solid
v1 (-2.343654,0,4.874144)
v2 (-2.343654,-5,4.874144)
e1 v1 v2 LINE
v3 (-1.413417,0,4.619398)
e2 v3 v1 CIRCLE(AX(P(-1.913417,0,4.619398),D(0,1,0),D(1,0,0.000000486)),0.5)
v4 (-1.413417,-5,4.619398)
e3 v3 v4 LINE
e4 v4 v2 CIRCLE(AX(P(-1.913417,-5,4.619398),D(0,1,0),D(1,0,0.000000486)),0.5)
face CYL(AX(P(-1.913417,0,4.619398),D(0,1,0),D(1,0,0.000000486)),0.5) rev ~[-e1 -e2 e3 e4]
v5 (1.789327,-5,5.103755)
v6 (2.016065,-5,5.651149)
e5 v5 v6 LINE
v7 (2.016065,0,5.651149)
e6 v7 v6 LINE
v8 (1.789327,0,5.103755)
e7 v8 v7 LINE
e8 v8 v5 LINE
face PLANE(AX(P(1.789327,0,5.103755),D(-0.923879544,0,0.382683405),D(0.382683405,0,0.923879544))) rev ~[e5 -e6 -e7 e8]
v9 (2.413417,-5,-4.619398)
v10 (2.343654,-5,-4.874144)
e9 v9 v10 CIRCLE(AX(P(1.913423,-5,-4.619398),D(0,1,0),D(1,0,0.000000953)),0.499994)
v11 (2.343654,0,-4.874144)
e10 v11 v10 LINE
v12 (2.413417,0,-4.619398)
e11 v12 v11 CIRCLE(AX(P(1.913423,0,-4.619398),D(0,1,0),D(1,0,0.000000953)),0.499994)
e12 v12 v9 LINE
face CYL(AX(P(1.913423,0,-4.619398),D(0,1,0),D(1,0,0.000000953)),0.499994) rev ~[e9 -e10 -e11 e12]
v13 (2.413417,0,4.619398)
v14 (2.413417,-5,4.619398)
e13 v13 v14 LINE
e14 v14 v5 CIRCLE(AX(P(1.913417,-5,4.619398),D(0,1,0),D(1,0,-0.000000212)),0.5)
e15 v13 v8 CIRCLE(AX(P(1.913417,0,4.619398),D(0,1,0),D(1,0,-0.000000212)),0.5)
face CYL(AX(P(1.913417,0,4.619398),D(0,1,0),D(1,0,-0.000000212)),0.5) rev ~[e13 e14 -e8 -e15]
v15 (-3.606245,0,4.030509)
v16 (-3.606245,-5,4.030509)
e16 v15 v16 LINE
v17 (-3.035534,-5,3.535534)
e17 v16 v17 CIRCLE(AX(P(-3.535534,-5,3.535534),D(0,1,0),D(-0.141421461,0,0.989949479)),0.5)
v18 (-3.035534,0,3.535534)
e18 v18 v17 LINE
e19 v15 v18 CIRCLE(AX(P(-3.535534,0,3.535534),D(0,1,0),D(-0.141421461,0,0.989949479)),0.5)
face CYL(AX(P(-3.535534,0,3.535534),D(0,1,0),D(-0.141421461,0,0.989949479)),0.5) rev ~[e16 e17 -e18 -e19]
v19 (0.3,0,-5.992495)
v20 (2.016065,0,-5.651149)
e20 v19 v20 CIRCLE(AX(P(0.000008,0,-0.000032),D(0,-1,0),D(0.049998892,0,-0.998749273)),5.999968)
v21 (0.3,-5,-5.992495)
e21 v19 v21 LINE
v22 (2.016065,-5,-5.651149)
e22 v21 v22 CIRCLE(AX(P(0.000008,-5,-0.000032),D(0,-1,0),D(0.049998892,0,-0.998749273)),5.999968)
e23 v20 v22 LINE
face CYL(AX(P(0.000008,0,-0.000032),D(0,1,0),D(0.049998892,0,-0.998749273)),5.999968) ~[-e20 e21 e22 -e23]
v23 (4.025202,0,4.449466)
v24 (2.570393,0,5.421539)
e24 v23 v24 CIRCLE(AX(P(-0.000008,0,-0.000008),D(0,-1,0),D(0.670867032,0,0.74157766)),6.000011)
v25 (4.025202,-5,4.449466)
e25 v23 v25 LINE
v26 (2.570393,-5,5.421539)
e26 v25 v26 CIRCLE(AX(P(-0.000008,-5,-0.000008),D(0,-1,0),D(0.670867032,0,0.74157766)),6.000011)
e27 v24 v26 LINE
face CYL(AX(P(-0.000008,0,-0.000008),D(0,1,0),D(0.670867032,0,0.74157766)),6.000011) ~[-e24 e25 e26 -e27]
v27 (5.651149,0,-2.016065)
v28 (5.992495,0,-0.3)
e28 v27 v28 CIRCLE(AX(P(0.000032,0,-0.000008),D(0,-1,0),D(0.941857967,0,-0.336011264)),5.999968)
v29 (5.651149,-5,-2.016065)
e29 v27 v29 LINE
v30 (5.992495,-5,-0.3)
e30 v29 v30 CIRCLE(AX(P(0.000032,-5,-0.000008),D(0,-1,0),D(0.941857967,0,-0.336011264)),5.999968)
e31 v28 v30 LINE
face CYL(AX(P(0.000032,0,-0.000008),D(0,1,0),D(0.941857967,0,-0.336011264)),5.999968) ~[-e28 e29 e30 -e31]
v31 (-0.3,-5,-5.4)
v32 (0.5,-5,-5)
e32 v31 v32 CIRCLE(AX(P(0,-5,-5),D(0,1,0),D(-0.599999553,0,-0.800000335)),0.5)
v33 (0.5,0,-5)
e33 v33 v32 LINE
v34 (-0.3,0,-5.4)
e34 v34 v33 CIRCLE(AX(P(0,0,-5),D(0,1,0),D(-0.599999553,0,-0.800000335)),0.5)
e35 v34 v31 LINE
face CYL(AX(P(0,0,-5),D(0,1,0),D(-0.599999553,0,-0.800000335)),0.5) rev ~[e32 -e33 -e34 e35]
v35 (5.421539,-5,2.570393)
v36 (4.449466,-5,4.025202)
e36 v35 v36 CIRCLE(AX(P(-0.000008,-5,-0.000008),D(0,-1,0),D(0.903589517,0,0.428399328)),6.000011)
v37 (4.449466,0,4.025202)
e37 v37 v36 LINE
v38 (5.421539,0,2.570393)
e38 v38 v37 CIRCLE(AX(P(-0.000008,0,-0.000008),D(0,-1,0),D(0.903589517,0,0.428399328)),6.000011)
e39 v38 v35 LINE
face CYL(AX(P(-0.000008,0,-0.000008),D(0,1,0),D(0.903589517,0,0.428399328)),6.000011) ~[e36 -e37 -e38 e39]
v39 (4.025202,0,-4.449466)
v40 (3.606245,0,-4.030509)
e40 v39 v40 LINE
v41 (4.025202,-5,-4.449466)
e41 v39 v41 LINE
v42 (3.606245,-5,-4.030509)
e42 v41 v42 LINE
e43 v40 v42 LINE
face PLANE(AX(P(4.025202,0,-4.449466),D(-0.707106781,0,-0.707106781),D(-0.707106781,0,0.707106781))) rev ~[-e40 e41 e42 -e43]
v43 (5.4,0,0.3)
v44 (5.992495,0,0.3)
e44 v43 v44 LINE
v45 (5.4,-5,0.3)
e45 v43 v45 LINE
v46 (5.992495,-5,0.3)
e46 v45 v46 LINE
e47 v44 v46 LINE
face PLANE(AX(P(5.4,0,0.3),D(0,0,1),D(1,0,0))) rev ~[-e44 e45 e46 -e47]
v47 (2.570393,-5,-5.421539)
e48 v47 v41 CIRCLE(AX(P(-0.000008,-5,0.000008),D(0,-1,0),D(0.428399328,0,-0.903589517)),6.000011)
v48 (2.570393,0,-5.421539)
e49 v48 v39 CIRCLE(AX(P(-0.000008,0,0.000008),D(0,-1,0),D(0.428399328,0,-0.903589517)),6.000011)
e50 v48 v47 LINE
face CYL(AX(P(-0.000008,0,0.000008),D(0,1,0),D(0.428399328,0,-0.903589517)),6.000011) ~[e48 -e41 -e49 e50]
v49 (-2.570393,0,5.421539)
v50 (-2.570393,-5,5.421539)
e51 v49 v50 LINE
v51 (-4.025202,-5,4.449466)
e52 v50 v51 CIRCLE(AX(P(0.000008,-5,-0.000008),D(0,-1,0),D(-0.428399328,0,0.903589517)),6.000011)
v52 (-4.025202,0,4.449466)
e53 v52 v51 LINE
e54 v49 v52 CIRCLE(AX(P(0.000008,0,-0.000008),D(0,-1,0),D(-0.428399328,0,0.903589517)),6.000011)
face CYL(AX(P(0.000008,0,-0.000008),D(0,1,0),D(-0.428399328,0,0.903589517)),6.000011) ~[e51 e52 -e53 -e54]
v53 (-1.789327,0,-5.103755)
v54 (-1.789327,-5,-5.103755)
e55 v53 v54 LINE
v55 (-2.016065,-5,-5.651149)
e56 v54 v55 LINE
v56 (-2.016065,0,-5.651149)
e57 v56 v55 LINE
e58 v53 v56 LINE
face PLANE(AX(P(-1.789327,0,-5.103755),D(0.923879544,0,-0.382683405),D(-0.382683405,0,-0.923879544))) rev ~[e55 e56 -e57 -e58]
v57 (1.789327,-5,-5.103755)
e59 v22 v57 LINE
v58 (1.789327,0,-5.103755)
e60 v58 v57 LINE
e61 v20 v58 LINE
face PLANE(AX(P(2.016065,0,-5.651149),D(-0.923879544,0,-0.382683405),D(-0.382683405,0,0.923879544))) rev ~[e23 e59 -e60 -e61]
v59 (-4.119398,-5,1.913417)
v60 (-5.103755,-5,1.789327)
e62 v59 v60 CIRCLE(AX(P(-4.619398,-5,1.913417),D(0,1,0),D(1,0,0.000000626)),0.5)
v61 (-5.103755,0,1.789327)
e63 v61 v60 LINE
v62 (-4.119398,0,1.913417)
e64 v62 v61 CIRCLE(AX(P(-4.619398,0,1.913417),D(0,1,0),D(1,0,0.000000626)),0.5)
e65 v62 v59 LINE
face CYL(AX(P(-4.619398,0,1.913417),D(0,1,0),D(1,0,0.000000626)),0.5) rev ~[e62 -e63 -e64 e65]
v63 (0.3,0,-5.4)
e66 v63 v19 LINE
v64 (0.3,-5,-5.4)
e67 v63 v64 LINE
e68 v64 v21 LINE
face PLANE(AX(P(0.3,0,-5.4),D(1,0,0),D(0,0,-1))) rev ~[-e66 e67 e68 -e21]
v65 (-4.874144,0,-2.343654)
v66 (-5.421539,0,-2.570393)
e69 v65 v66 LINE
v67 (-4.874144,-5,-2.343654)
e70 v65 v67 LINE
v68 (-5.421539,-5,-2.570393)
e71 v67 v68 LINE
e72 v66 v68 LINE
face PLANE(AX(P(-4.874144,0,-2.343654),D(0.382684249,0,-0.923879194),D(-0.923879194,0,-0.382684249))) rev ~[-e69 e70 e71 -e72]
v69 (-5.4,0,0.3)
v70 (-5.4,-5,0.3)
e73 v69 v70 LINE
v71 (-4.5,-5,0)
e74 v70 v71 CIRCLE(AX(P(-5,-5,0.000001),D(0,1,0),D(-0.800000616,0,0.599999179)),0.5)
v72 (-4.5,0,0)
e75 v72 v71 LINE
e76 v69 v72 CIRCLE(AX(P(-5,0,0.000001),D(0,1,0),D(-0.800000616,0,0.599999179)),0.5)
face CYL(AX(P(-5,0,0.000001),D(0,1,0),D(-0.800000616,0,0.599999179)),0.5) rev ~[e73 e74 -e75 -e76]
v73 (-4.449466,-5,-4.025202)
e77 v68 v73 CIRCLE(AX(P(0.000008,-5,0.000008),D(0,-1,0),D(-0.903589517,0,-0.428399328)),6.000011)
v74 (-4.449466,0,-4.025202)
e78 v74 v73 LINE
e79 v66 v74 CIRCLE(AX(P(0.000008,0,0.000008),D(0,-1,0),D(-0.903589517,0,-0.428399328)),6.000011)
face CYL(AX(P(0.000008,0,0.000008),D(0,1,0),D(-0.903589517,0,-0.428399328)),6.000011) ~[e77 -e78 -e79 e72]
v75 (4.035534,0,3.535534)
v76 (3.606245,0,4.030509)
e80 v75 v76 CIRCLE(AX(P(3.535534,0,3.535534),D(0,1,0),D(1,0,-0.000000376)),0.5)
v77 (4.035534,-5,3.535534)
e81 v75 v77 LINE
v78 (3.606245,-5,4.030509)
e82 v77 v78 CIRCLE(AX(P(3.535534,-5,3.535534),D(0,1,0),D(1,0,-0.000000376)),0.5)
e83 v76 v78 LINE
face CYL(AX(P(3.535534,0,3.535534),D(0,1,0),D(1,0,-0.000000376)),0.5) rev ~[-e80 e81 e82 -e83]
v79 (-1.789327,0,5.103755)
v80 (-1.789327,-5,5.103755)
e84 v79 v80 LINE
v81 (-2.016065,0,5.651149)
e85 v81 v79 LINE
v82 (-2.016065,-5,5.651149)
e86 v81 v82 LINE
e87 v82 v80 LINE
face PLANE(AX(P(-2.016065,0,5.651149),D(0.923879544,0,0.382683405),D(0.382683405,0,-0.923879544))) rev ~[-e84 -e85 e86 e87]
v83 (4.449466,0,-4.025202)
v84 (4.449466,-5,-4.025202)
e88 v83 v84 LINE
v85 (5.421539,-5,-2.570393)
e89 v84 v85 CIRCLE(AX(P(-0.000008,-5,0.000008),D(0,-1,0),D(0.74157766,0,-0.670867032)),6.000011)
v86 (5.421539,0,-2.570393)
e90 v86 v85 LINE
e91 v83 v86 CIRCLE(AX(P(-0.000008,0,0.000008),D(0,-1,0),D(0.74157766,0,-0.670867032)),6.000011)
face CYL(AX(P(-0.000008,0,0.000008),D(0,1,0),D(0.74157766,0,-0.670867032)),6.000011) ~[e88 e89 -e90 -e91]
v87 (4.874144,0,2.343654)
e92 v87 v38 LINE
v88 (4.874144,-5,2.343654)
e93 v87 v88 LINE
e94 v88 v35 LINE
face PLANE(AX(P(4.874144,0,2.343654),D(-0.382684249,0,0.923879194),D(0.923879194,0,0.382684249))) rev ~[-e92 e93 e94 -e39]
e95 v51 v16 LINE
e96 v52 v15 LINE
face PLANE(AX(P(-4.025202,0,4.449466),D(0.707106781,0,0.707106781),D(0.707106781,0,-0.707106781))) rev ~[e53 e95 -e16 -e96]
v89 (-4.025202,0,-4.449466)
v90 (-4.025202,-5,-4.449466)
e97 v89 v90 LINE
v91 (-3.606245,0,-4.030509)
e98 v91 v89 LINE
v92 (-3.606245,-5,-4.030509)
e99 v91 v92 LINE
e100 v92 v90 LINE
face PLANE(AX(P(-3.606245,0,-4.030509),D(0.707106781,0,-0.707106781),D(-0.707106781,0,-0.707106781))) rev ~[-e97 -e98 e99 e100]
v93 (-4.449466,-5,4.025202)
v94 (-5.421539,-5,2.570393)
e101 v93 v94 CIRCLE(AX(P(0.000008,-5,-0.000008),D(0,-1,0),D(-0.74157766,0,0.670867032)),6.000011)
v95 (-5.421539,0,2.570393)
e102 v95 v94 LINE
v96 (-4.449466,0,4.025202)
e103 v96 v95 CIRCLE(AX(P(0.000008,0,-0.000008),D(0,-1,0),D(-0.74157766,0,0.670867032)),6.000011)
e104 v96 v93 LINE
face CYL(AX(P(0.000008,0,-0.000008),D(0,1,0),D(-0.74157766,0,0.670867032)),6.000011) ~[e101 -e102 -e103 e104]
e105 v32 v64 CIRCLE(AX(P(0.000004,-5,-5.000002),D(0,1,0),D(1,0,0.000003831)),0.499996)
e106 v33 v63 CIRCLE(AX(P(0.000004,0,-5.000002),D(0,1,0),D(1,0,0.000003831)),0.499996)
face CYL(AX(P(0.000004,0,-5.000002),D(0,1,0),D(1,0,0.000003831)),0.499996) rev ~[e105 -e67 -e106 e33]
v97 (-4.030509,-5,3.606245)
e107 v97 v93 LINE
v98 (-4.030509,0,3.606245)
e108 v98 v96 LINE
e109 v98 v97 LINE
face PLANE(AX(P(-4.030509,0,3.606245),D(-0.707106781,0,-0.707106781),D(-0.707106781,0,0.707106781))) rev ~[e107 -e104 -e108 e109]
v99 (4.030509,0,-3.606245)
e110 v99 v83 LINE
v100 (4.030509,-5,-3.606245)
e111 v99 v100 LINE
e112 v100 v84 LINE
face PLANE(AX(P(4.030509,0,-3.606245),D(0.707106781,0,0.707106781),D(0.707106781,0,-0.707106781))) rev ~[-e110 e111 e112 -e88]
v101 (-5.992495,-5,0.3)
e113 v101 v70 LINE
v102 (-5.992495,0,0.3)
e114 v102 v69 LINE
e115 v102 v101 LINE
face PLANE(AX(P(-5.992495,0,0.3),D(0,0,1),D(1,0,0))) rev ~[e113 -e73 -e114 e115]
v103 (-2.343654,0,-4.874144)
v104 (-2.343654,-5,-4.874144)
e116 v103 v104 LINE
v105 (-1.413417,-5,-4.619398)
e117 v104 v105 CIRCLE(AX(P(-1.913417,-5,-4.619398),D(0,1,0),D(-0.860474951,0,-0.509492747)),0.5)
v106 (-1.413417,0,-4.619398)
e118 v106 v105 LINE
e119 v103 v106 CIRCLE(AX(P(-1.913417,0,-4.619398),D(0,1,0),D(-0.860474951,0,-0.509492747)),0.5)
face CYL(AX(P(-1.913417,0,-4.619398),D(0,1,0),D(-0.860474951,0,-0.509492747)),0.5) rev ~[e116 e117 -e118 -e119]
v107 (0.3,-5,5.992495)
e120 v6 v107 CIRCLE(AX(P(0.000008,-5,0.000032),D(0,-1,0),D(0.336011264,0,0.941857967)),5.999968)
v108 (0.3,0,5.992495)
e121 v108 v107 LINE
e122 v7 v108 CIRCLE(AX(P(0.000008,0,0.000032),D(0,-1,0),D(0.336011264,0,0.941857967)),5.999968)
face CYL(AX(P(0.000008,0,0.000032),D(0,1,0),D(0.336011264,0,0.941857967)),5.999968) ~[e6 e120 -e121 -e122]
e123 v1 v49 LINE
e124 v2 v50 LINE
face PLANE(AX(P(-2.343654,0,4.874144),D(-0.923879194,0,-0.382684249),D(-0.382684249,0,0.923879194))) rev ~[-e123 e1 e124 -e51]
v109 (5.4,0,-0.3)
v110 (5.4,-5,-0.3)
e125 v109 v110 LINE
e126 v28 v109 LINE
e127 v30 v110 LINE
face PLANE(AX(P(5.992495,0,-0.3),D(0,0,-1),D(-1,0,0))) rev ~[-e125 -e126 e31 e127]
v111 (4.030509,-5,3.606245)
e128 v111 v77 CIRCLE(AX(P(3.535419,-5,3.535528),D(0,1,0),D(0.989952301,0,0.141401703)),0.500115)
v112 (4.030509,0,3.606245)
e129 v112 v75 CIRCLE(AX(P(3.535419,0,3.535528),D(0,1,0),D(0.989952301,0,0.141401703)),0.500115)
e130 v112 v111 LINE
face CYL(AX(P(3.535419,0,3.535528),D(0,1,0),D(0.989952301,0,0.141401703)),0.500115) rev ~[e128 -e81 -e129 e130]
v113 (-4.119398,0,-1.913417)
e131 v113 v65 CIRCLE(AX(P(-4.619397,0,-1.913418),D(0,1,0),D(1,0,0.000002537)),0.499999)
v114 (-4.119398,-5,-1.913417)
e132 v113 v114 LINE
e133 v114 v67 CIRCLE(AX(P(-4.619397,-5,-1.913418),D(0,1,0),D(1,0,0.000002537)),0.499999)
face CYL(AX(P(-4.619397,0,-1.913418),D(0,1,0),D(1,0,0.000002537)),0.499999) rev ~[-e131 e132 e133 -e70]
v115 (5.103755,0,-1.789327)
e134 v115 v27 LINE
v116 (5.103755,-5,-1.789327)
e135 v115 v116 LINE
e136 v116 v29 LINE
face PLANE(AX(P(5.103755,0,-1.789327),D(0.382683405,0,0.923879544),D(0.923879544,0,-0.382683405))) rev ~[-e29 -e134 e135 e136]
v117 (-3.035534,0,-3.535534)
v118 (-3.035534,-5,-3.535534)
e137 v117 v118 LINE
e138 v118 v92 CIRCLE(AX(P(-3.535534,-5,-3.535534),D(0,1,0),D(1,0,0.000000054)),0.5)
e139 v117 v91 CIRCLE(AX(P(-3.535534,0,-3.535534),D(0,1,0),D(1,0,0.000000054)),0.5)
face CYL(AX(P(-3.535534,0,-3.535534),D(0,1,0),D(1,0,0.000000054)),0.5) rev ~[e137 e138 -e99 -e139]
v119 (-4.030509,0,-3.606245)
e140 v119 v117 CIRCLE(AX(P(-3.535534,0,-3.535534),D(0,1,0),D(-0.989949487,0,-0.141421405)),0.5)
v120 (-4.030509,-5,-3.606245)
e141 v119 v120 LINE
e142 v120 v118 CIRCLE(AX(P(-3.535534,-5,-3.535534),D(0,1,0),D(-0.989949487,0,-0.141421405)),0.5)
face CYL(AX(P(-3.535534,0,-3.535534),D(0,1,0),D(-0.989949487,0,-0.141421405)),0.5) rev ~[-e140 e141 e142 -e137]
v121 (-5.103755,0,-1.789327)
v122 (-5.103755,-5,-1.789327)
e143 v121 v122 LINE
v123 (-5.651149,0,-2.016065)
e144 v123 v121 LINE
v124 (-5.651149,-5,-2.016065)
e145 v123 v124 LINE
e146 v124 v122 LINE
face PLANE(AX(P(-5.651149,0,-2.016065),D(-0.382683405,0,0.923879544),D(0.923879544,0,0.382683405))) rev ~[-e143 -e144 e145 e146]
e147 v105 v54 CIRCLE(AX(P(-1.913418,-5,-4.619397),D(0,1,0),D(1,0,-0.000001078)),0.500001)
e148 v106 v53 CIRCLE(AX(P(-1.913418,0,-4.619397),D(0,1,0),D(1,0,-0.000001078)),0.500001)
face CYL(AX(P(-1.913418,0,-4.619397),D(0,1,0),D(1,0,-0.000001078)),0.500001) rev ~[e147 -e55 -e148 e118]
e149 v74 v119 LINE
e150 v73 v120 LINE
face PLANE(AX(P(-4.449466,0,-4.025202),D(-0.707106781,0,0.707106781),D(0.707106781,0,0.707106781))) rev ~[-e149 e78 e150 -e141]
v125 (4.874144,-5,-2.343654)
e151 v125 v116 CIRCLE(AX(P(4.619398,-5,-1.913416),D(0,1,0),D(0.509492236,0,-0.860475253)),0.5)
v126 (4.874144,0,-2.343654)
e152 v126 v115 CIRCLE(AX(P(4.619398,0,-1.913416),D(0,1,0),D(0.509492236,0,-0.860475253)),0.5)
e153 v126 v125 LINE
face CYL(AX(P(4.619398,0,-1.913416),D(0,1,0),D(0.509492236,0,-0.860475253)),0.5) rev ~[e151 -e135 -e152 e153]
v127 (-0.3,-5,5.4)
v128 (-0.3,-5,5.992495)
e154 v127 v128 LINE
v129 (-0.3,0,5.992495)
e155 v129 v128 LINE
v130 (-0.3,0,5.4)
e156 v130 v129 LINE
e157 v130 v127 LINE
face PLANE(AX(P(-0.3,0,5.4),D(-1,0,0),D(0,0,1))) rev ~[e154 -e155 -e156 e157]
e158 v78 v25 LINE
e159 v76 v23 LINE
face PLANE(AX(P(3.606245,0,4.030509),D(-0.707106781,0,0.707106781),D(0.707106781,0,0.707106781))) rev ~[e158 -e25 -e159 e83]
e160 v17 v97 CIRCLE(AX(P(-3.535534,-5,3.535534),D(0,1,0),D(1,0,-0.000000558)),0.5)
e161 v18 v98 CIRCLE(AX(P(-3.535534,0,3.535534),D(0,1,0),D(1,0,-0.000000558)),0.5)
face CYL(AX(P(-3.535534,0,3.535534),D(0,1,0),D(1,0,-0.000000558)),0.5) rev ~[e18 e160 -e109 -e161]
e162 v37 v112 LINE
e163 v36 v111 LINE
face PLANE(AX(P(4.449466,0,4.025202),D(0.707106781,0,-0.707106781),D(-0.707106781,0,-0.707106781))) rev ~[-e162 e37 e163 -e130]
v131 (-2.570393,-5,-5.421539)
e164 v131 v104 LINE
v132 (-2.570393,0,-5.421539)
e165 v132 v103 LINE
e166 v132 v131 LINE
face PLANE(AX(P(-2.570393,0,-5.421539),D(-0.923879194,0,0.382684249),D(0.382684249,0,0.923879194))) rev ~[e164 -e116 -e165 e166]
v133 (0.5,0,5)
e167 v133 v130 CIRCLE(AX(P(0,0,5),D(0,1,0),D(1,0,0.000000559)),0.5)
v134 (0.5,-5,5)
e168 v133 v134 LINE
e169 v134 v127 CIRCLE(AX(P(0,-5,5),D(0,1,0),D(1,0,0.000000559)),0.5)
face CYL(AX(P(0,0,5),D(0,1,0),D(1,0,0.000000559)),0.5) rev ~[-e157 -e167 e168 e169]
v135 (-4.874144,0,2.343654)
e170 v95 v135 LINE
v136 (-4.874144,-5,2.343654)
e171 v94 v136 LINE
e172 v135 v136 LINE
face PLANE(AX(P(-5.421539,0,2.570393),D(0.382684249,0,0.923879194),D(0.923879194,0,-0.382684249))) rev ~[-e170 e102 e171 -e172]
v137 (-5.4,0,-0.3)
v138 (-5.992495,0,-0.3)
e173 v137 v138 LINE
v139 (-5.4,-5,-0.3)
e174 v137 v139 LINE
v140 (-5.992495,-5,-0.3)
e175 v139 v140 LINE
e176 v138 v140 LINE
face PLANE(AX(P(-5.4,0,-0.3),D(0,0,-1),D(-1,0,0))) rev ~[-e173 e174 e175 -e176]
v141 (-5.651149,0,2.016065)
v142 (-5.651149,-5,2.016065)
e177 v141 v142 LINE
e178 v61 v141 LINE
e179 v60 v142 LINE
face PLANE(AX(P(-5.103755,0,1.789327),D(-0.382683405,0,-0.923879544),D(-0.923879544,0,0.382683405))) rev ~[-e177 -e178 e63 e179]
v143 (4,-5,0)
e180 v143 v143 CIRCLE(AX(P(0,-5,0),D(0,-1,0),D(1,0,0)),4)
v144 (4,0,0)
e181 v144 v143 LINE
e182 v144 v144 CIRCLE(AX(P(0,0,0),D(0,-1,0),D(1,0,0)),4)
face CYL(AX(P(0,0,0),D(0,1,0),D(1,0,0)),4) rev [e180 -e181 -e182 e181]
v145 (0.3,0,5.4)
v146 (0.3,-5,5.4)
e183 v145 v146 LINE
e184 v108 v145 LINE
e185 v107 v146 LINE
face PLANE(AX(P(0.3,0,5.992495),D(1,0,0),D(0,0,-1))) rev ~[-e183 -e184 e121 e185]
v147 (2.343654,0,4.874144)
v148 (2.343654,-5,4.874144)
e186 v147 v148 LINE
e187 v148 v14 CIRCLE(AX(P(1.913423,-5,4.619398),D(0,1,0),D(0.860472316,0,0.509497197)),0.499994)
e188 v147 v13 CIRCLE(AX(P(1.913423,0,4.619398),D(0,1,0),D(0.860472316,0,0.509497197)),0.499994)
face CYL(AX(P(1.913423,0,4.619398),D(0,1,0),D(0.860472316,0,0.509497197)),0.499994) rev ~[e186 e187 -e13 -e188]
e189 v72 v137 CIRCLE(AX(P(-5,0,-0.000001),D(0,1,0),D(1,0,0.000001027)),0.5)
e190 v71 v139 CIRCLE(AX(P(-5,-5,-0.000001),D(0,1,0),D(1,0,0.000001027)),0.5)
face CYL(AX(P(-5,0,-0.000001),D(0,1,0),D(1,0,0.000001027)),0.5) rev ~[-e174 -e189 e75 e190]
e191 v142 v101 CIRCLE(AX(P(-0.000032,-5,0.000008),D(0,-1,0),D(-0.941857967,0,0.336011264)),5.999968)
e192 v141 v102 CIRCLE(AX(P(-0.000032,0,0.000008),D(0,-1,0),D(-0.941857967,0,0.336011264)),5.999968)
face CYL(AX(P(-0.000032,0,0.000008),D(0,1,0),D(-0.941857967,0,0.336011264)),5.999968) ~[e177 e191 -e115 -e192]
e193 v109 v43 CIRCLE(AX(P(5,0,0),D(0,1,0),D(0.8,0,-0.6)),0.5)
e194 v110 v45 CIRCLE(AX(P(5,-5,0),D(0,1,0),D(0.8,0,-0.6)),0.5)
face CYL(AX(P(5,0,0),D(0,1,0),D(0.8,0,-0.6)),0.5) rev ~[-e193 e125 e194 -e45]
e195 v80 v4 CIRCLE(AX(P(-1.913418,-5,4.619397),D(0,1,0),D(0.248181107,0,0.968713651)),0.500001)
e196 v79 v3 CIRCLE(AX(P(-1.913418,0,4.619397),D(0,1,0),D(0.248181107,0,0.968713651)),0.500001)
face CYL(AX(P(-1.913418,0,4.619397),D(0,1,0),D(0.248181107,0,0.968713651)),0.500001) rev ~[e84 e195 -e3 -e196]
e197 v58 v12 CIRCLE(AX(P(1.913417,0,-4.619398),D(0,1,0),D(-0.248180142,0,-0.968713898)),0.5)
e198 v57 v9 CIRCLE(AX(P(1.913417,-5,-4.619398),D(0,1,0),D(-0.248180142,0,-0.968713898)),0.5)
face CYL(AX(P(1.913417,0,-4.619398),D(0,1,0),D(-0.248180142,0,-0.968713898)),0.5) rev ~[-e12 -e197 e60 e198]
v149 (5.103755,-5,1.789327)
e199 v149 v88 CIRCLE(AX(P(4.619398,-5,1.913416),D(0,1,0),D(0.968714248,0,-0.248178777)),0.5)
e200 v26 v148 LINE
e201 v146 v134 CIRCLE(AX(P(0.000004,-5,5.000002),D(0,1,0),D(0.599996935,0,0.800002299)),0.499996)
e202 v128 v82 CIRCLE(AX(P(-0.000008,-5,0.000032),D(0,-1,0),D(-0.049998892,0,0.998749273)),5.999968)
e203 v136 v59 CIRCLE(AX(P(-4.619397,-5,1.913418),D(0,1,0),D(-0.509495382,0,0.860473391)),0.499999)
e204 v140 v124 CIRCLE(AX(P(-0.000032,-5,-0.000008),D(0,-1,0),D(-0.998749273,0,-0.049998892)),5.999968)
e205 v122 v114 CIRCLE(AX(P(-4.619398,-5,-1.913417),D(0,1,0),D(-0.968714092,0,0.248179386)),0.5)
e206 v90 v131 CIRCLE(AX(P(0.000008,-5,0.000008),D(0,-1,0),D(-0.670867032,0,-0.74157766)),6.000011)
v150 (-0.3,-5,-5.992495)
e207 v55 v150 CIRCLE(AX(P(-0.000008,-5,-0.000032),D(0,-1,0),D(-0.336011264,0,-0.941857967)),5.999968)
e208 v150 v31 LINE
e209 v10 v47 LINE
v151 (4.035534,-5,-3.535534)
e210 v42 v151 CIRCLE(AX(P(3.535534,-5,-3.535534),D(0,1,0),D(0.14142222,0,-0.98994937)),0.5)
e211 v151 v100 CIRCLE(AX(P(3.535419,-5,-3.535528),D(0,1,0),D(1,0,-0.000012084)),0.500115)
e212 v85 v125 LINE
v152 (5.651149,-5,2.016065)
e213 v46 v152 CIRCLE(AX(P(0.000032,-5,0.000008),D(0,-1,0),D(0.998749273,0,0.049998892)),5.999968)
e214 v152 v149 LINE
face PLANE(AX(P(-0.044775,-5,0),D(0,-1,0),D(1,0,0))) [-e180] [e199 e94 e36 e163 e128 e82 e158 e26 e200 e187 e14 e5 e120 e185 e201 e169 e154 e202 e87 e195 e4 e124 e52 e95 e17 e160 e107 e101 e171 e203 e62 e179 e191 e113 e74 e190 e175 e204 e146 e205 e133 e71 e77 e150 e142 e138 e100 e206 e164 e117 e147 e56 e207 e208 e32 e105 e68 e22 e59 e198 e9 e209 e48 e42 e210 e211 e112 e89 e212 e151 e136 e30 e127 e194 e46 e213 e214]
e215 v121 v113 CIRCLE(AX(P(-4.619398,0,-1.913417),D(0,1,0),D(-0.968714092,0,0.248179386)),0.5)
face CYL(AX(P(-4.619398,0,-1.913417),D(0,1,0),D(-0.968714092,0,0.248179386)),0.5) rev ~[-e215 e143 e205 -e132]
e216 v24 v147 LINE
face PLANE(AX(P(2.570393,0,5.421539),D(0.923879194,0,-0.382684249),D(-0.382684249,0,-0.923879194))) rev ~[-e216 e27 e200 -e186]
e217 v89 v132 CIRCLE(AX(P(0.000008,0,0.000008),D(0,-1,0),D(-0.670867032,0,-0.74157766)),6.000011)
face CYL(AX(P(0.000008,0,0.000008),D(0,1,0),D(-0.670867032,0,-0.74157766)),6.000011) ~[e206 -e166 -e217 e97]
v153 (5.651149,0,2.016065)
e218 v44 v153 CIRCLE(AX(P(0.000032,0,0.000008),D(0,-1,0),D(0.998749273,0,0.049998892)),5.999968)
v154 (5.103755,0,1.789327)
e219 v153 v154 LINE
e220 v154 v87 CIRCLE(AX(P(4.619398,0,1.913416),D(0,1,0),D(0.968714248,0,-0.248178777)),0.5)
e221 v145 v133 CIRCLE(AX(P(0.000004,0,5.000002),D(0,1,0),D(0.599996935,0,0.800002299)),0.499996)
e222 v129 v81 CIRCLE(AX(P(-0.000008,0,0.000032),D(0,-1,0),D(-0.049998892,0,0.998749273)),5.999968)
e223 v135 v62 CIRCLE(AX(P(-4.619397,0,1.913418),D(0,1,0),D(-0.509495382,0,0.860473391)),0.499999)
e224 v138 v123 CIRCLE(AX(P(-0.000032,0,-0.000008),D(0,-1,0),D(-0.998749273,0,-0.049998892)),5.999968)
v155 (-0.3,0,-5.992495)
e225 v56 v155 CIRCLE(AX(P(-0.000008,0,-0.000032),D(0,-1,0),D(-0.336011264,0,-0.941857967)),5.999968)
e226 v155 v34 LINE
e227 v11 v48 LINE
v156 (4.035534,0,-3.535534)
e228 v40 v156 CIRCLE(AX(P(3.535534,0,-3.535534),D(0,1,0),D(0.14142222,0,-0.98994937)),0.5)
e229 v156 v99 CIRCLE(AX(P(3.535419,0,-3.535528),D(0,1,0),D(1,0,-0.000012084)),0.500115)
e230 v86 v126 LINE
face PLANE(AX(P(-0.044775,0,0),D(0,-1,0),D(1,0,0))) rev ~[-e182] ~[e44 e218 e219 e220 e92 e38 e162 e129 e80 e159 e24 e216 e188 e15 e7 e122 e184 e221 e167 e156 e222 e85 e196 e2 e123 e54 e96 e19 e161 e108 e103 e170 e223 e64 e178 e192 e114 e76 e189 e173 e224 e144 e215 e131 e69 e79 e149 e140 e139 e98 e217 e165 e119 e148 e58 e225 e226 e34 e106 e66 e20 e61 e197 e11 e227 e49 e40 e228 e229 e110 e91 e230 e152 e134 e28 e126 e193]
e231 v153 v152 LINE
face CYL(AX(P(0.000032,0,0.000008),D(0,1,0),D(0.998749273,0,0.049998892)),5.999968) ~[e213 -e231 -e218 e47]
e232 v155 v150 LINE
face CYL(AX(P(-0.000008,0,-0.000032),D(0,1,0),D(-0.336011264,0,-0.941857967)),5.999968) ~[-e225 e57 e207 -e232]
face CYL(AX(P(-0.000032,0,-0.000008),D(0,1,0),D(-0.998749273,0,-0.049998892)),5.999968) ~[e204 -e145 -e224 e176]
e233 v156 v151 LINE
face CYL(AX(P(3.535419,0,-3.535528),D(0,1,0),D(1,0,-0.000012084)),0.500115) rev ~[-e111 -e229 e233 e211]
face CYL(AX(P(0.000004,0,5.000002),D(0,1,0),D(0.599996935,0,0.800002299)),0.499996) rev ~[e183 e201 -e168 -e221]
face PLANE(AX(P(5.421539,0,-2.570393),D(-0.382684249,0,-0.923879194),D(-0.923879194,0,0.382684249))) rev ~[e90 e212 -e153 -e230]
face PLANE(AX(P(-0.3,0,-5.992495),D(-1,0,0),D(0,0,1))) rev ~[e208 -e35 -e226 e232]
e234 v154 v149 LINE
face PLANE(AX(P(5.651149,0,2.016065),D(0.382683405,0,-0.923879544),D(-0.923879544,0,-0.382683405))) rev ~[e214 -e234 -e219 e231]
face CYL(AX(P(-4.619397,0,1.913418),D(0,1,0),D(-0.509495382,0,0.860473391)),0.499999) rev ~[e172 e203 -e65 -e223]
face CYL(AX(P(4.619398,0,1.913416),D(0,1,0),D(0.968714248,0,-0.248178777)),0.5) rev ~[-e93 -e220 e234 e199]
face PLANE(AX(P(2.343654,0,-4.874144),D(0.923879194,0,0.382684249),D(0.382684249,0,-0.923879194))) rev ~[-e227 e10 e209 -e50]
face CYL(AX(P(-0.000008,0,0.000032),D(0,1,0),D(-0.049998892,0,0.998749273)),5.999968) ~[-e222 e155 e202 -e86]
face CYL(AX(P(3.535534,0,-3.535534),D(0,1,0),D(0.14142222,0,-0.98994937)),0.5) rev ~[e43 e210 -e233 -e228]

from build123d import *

# Parameters (mm, degrees)
F0_R     = 4
F1_DEPTH = 5


with BuildPart() as f1:
    # F0 (on Front) → F1 (new body)
    with BuildSketch(Plane.XZ):
        with BuildLine():
            Line((5.4, 0.3), (5.992495, 0.3))
            ThreePointArc((5.992495, 0.3), (5.884712, 1.170542), (5.651149, 2.016065))
            Line((5.651149, 2.016065), (5.103755, 1.789327))
            ThreePointArc((5.103755, 1.789327), (4.157458, 1.722075), (4.874144, 2.343654))
            Line((4.874144, 2.343654), (5.421539, 2.570393))
            ThreePointArc((5.421539, 2.570393), (4.988818, 3.333421), (4.449466, 4.025202))
            Line((4.449466, 4.025202), (4.030509, 3.606245))
            ThreePointArc((4.030509, 3.606245), (4.034276, 3.570978), (4.035534, 3.535534))
            ThreePointArc((4.035534, 3.535534), (3.157807, 3.207933), (3.606245, 4.030509))
            Line((3.606245, 4.030509), (4.025202, 4.449466))
            ThreePointArc((4.025202, 4.449466), (3.333421, 4.988818), (2.570393, 5.421539))
            Line((2.570393, 5.421539), (2.343654, 4.874144))
            ThreePointArc((2.343654, 4.874144), (2.395661, 4.751461), (2.413417, 4.619398))
            ThreePointArc((2.413417, 4.619398), (1.60686, 4.224401), (1.789327, 5.103755))
            Line((1.789327, 5.103755), (2.016065, 5.651149))
            ThreePointArc((2.016065, 5.651149), (1.170542, 5.884712), (0.3, 5.992495))
            Line((0.3, 5.992495), (0.3, 5.4))
            ThreePointArc((0.3, 5.4), (0.447214, 5.223607), (0.5, 5))
            ThreePointArc((0.5, 5), (-0.223607, 4.552786), (-0.3, 5.4))
            Line((-0.3, 5.4), (-0.3, 5.992495))
            ThreePointArc((-0.3, 5.992495), (-1.170542, 5.884712), (-2.016065, 5.651149))
            Line((-2.016065, 5.651149), (-1.789327, 5.103755))
            ThreePointArc((-1.789327, 5.103755), (-1.51842, 4.925955), (-1.413417, 4.619398))
            ThreePointArc((-1.413417, 4.619398), (-2.04548, 4.137154), (-2.343654, 4.874144))
            Line((-2.343654, 4.874144), (-2.570393, 5.421539))
            ThreePointArc((-2.570393, 5.421539), (-3.333421, 4.988818), (-4.025202, 4.449466))
            Line((-4.025202, 4.449466), (-3.606245, 4.030509))
            ThreePointArc((-3.606245, 4.030509), (-3.207933, 3.913261), (-3.035534, 3.535534))
            ThreePointArc((-3.035534, 3.535534), (-3.570978, 3.036792), (-4.030509, 3.606245))
            Line((-4.030509, 3.606245), (-4.449466, 4.025202))
            ThreePointArc((-4.449466, 4.025202), (-4.988818, 3.333421), (-5.421539, 2.570393))
            Line((-5.421539, 2.570393), (-4.874144, 2.343654))
            ThreePointArc((-4.874144, 2.343654), (-4.371782, 2.347798), (-4.119398, 1.913417))
            ThreePointArc((-4.119398, 1.913417), (-4.556861, 1.417343), (-5.103755, 1.789327))
            Line((-5.103755, 1.789327), (-5.651149, 2.016065))
            ThreePointArc((-5.651149, 2.016065), (-5.884712, 1.170542), (-5.992495, 0.3))
            Line((-5.992495, 0.3), (-5.4, 0.3))
            ThreePointArc((-5.4, 0.3), (-4.841886, 0.474342), (-4.5, 0))
            ThreePointArc((-4.5, 0), (-4.841886, -0.474342), (-5.4, -0.3))
            Line((-5.4, -0.3), (-5.992495, -0.3))
            ThreePointArc((-5.992495, -0.3), (-5.884712, -1.170542), (-5.651149, -2.016065))
            Line((-5.651149, -2.016065), (-5.103755, -1.789327))
            ThreePointArc((-5.103755, -1.789327), (-4.556861, -1.417343), (-4.119398, -1.913417))
            ThreePointArc((-4.119398, -1.913417), (-4.371782, -2.347798), (-4.874144, -2.343654))
            Line((-4.874144, -2.343654), (-5.421539, -2.570393))
            ThreePointArc((-5.421539, -2.570393), (-4.988818, -3.333421), (-4.449466, -4.025202))
            Line((-4.449466, -4.025202), (-4.030509, -3.606245))
            ThreePointArc((-4.030509, -3.606245), (-3.570978, -3.036792), (-3.035534, -3.535534))
            ThreePointArc((-3.035534, -3.535534), (-3.207933, -3.913261), (-3.606245, -4.030509))
            Line((-3.606245, -4.030509), (-4.025202, -4.449466))
            ThreePointArc((-4.025202, -4.449466), (-3.333421, -4.988818), (-2.570393, -5.421539))
            Line((-2.570393, -5.421539), (-2.343654, -4.874144))
            ThreePointArc((-2.343654, -4.874144), (-2.04548, -4.137154), (-1.413417, -4.619398))
            ThreePointArc((-1.413417, -4.619398), (-1.51842, -4.925955), (-1.789327, -5.103755))
            Line((-1.789327, -5.103755), (-2.016065, -5.651149))
            ThreePointArc((-2.016065, -5.651149), (-1.170542, -5.884712), (-0.3, -5.992495))
            Line((-0.3, -5.992495), (-0.3, -5.4))
            ThreePointArc((-0.3, -5.4), (-0.223607, -4.552786), (0.5, -5))
            ThreePointArc((0.5, -5), (0.447214, -5.223607), (0.3, -5.4))
            Line((0.3, -5.4), (0.3, -5.992495))
            ThreePointArc((0.3, -5.992495), (1.170542, -5.884712), (2.016065, -5.651149))
            Line((2.016065, -5.651149), (1.789327, -5.103755))
            ThreePointArc((1.789327, -5.103755), (1.60686, -4.224401), (2.413417, -4.619398))
            ThreePointArc((2.413417, -4.619398), (2.395661, -4.751461), (2.343654, -4.874144))
            Line((2.343654, -4.874144), (2.570393, -5.421539))
            ThreePointArc((2.570393, -5.421539), (3.333421, -4.988818), (4.025202, -4.449466))
            Line((4.025202, -4.449466), (3.606245, -4.030509))
            ThreePointArc((3.606245, -4.030509), (3.157807, -3.207933), (4.035534, -3.535534))
            ThreePointArc((4.035534, -3.535534), (4.034276, -3.570978), (4.030509, -3.606245))
            Line((4.030509, -3.606245), (4.449466, -4.025202))
            ThreePointArc((4.449466, -4.025202), (4.988818, -3.333421), (5.421539, -2.570393))
            Line((5.421539, -2.570393), (4.874144, -2.343654))
            ThreePointArc((4.874144, -2.343654), (4.157458, -1.722075), (5.103755, -1.789327))
            Line((5.103755, -1.789327), (5.651149, -2.016065))
            ThreePointArc((5.651149, -2.016065), (5.884712, -1.170542), (5.992495, -0.3))
            Line((5.992495, -0.3), (5.4, -0.3))
            ThreePointArc((5.4, -0.3), (4.5, 0), (5.4, 0.3))
        make_face()
        Circle(F0_R, mode=Mode.SUBTRACT)
    extrude(amount=F1_DEPTH)


solid = f1.part
